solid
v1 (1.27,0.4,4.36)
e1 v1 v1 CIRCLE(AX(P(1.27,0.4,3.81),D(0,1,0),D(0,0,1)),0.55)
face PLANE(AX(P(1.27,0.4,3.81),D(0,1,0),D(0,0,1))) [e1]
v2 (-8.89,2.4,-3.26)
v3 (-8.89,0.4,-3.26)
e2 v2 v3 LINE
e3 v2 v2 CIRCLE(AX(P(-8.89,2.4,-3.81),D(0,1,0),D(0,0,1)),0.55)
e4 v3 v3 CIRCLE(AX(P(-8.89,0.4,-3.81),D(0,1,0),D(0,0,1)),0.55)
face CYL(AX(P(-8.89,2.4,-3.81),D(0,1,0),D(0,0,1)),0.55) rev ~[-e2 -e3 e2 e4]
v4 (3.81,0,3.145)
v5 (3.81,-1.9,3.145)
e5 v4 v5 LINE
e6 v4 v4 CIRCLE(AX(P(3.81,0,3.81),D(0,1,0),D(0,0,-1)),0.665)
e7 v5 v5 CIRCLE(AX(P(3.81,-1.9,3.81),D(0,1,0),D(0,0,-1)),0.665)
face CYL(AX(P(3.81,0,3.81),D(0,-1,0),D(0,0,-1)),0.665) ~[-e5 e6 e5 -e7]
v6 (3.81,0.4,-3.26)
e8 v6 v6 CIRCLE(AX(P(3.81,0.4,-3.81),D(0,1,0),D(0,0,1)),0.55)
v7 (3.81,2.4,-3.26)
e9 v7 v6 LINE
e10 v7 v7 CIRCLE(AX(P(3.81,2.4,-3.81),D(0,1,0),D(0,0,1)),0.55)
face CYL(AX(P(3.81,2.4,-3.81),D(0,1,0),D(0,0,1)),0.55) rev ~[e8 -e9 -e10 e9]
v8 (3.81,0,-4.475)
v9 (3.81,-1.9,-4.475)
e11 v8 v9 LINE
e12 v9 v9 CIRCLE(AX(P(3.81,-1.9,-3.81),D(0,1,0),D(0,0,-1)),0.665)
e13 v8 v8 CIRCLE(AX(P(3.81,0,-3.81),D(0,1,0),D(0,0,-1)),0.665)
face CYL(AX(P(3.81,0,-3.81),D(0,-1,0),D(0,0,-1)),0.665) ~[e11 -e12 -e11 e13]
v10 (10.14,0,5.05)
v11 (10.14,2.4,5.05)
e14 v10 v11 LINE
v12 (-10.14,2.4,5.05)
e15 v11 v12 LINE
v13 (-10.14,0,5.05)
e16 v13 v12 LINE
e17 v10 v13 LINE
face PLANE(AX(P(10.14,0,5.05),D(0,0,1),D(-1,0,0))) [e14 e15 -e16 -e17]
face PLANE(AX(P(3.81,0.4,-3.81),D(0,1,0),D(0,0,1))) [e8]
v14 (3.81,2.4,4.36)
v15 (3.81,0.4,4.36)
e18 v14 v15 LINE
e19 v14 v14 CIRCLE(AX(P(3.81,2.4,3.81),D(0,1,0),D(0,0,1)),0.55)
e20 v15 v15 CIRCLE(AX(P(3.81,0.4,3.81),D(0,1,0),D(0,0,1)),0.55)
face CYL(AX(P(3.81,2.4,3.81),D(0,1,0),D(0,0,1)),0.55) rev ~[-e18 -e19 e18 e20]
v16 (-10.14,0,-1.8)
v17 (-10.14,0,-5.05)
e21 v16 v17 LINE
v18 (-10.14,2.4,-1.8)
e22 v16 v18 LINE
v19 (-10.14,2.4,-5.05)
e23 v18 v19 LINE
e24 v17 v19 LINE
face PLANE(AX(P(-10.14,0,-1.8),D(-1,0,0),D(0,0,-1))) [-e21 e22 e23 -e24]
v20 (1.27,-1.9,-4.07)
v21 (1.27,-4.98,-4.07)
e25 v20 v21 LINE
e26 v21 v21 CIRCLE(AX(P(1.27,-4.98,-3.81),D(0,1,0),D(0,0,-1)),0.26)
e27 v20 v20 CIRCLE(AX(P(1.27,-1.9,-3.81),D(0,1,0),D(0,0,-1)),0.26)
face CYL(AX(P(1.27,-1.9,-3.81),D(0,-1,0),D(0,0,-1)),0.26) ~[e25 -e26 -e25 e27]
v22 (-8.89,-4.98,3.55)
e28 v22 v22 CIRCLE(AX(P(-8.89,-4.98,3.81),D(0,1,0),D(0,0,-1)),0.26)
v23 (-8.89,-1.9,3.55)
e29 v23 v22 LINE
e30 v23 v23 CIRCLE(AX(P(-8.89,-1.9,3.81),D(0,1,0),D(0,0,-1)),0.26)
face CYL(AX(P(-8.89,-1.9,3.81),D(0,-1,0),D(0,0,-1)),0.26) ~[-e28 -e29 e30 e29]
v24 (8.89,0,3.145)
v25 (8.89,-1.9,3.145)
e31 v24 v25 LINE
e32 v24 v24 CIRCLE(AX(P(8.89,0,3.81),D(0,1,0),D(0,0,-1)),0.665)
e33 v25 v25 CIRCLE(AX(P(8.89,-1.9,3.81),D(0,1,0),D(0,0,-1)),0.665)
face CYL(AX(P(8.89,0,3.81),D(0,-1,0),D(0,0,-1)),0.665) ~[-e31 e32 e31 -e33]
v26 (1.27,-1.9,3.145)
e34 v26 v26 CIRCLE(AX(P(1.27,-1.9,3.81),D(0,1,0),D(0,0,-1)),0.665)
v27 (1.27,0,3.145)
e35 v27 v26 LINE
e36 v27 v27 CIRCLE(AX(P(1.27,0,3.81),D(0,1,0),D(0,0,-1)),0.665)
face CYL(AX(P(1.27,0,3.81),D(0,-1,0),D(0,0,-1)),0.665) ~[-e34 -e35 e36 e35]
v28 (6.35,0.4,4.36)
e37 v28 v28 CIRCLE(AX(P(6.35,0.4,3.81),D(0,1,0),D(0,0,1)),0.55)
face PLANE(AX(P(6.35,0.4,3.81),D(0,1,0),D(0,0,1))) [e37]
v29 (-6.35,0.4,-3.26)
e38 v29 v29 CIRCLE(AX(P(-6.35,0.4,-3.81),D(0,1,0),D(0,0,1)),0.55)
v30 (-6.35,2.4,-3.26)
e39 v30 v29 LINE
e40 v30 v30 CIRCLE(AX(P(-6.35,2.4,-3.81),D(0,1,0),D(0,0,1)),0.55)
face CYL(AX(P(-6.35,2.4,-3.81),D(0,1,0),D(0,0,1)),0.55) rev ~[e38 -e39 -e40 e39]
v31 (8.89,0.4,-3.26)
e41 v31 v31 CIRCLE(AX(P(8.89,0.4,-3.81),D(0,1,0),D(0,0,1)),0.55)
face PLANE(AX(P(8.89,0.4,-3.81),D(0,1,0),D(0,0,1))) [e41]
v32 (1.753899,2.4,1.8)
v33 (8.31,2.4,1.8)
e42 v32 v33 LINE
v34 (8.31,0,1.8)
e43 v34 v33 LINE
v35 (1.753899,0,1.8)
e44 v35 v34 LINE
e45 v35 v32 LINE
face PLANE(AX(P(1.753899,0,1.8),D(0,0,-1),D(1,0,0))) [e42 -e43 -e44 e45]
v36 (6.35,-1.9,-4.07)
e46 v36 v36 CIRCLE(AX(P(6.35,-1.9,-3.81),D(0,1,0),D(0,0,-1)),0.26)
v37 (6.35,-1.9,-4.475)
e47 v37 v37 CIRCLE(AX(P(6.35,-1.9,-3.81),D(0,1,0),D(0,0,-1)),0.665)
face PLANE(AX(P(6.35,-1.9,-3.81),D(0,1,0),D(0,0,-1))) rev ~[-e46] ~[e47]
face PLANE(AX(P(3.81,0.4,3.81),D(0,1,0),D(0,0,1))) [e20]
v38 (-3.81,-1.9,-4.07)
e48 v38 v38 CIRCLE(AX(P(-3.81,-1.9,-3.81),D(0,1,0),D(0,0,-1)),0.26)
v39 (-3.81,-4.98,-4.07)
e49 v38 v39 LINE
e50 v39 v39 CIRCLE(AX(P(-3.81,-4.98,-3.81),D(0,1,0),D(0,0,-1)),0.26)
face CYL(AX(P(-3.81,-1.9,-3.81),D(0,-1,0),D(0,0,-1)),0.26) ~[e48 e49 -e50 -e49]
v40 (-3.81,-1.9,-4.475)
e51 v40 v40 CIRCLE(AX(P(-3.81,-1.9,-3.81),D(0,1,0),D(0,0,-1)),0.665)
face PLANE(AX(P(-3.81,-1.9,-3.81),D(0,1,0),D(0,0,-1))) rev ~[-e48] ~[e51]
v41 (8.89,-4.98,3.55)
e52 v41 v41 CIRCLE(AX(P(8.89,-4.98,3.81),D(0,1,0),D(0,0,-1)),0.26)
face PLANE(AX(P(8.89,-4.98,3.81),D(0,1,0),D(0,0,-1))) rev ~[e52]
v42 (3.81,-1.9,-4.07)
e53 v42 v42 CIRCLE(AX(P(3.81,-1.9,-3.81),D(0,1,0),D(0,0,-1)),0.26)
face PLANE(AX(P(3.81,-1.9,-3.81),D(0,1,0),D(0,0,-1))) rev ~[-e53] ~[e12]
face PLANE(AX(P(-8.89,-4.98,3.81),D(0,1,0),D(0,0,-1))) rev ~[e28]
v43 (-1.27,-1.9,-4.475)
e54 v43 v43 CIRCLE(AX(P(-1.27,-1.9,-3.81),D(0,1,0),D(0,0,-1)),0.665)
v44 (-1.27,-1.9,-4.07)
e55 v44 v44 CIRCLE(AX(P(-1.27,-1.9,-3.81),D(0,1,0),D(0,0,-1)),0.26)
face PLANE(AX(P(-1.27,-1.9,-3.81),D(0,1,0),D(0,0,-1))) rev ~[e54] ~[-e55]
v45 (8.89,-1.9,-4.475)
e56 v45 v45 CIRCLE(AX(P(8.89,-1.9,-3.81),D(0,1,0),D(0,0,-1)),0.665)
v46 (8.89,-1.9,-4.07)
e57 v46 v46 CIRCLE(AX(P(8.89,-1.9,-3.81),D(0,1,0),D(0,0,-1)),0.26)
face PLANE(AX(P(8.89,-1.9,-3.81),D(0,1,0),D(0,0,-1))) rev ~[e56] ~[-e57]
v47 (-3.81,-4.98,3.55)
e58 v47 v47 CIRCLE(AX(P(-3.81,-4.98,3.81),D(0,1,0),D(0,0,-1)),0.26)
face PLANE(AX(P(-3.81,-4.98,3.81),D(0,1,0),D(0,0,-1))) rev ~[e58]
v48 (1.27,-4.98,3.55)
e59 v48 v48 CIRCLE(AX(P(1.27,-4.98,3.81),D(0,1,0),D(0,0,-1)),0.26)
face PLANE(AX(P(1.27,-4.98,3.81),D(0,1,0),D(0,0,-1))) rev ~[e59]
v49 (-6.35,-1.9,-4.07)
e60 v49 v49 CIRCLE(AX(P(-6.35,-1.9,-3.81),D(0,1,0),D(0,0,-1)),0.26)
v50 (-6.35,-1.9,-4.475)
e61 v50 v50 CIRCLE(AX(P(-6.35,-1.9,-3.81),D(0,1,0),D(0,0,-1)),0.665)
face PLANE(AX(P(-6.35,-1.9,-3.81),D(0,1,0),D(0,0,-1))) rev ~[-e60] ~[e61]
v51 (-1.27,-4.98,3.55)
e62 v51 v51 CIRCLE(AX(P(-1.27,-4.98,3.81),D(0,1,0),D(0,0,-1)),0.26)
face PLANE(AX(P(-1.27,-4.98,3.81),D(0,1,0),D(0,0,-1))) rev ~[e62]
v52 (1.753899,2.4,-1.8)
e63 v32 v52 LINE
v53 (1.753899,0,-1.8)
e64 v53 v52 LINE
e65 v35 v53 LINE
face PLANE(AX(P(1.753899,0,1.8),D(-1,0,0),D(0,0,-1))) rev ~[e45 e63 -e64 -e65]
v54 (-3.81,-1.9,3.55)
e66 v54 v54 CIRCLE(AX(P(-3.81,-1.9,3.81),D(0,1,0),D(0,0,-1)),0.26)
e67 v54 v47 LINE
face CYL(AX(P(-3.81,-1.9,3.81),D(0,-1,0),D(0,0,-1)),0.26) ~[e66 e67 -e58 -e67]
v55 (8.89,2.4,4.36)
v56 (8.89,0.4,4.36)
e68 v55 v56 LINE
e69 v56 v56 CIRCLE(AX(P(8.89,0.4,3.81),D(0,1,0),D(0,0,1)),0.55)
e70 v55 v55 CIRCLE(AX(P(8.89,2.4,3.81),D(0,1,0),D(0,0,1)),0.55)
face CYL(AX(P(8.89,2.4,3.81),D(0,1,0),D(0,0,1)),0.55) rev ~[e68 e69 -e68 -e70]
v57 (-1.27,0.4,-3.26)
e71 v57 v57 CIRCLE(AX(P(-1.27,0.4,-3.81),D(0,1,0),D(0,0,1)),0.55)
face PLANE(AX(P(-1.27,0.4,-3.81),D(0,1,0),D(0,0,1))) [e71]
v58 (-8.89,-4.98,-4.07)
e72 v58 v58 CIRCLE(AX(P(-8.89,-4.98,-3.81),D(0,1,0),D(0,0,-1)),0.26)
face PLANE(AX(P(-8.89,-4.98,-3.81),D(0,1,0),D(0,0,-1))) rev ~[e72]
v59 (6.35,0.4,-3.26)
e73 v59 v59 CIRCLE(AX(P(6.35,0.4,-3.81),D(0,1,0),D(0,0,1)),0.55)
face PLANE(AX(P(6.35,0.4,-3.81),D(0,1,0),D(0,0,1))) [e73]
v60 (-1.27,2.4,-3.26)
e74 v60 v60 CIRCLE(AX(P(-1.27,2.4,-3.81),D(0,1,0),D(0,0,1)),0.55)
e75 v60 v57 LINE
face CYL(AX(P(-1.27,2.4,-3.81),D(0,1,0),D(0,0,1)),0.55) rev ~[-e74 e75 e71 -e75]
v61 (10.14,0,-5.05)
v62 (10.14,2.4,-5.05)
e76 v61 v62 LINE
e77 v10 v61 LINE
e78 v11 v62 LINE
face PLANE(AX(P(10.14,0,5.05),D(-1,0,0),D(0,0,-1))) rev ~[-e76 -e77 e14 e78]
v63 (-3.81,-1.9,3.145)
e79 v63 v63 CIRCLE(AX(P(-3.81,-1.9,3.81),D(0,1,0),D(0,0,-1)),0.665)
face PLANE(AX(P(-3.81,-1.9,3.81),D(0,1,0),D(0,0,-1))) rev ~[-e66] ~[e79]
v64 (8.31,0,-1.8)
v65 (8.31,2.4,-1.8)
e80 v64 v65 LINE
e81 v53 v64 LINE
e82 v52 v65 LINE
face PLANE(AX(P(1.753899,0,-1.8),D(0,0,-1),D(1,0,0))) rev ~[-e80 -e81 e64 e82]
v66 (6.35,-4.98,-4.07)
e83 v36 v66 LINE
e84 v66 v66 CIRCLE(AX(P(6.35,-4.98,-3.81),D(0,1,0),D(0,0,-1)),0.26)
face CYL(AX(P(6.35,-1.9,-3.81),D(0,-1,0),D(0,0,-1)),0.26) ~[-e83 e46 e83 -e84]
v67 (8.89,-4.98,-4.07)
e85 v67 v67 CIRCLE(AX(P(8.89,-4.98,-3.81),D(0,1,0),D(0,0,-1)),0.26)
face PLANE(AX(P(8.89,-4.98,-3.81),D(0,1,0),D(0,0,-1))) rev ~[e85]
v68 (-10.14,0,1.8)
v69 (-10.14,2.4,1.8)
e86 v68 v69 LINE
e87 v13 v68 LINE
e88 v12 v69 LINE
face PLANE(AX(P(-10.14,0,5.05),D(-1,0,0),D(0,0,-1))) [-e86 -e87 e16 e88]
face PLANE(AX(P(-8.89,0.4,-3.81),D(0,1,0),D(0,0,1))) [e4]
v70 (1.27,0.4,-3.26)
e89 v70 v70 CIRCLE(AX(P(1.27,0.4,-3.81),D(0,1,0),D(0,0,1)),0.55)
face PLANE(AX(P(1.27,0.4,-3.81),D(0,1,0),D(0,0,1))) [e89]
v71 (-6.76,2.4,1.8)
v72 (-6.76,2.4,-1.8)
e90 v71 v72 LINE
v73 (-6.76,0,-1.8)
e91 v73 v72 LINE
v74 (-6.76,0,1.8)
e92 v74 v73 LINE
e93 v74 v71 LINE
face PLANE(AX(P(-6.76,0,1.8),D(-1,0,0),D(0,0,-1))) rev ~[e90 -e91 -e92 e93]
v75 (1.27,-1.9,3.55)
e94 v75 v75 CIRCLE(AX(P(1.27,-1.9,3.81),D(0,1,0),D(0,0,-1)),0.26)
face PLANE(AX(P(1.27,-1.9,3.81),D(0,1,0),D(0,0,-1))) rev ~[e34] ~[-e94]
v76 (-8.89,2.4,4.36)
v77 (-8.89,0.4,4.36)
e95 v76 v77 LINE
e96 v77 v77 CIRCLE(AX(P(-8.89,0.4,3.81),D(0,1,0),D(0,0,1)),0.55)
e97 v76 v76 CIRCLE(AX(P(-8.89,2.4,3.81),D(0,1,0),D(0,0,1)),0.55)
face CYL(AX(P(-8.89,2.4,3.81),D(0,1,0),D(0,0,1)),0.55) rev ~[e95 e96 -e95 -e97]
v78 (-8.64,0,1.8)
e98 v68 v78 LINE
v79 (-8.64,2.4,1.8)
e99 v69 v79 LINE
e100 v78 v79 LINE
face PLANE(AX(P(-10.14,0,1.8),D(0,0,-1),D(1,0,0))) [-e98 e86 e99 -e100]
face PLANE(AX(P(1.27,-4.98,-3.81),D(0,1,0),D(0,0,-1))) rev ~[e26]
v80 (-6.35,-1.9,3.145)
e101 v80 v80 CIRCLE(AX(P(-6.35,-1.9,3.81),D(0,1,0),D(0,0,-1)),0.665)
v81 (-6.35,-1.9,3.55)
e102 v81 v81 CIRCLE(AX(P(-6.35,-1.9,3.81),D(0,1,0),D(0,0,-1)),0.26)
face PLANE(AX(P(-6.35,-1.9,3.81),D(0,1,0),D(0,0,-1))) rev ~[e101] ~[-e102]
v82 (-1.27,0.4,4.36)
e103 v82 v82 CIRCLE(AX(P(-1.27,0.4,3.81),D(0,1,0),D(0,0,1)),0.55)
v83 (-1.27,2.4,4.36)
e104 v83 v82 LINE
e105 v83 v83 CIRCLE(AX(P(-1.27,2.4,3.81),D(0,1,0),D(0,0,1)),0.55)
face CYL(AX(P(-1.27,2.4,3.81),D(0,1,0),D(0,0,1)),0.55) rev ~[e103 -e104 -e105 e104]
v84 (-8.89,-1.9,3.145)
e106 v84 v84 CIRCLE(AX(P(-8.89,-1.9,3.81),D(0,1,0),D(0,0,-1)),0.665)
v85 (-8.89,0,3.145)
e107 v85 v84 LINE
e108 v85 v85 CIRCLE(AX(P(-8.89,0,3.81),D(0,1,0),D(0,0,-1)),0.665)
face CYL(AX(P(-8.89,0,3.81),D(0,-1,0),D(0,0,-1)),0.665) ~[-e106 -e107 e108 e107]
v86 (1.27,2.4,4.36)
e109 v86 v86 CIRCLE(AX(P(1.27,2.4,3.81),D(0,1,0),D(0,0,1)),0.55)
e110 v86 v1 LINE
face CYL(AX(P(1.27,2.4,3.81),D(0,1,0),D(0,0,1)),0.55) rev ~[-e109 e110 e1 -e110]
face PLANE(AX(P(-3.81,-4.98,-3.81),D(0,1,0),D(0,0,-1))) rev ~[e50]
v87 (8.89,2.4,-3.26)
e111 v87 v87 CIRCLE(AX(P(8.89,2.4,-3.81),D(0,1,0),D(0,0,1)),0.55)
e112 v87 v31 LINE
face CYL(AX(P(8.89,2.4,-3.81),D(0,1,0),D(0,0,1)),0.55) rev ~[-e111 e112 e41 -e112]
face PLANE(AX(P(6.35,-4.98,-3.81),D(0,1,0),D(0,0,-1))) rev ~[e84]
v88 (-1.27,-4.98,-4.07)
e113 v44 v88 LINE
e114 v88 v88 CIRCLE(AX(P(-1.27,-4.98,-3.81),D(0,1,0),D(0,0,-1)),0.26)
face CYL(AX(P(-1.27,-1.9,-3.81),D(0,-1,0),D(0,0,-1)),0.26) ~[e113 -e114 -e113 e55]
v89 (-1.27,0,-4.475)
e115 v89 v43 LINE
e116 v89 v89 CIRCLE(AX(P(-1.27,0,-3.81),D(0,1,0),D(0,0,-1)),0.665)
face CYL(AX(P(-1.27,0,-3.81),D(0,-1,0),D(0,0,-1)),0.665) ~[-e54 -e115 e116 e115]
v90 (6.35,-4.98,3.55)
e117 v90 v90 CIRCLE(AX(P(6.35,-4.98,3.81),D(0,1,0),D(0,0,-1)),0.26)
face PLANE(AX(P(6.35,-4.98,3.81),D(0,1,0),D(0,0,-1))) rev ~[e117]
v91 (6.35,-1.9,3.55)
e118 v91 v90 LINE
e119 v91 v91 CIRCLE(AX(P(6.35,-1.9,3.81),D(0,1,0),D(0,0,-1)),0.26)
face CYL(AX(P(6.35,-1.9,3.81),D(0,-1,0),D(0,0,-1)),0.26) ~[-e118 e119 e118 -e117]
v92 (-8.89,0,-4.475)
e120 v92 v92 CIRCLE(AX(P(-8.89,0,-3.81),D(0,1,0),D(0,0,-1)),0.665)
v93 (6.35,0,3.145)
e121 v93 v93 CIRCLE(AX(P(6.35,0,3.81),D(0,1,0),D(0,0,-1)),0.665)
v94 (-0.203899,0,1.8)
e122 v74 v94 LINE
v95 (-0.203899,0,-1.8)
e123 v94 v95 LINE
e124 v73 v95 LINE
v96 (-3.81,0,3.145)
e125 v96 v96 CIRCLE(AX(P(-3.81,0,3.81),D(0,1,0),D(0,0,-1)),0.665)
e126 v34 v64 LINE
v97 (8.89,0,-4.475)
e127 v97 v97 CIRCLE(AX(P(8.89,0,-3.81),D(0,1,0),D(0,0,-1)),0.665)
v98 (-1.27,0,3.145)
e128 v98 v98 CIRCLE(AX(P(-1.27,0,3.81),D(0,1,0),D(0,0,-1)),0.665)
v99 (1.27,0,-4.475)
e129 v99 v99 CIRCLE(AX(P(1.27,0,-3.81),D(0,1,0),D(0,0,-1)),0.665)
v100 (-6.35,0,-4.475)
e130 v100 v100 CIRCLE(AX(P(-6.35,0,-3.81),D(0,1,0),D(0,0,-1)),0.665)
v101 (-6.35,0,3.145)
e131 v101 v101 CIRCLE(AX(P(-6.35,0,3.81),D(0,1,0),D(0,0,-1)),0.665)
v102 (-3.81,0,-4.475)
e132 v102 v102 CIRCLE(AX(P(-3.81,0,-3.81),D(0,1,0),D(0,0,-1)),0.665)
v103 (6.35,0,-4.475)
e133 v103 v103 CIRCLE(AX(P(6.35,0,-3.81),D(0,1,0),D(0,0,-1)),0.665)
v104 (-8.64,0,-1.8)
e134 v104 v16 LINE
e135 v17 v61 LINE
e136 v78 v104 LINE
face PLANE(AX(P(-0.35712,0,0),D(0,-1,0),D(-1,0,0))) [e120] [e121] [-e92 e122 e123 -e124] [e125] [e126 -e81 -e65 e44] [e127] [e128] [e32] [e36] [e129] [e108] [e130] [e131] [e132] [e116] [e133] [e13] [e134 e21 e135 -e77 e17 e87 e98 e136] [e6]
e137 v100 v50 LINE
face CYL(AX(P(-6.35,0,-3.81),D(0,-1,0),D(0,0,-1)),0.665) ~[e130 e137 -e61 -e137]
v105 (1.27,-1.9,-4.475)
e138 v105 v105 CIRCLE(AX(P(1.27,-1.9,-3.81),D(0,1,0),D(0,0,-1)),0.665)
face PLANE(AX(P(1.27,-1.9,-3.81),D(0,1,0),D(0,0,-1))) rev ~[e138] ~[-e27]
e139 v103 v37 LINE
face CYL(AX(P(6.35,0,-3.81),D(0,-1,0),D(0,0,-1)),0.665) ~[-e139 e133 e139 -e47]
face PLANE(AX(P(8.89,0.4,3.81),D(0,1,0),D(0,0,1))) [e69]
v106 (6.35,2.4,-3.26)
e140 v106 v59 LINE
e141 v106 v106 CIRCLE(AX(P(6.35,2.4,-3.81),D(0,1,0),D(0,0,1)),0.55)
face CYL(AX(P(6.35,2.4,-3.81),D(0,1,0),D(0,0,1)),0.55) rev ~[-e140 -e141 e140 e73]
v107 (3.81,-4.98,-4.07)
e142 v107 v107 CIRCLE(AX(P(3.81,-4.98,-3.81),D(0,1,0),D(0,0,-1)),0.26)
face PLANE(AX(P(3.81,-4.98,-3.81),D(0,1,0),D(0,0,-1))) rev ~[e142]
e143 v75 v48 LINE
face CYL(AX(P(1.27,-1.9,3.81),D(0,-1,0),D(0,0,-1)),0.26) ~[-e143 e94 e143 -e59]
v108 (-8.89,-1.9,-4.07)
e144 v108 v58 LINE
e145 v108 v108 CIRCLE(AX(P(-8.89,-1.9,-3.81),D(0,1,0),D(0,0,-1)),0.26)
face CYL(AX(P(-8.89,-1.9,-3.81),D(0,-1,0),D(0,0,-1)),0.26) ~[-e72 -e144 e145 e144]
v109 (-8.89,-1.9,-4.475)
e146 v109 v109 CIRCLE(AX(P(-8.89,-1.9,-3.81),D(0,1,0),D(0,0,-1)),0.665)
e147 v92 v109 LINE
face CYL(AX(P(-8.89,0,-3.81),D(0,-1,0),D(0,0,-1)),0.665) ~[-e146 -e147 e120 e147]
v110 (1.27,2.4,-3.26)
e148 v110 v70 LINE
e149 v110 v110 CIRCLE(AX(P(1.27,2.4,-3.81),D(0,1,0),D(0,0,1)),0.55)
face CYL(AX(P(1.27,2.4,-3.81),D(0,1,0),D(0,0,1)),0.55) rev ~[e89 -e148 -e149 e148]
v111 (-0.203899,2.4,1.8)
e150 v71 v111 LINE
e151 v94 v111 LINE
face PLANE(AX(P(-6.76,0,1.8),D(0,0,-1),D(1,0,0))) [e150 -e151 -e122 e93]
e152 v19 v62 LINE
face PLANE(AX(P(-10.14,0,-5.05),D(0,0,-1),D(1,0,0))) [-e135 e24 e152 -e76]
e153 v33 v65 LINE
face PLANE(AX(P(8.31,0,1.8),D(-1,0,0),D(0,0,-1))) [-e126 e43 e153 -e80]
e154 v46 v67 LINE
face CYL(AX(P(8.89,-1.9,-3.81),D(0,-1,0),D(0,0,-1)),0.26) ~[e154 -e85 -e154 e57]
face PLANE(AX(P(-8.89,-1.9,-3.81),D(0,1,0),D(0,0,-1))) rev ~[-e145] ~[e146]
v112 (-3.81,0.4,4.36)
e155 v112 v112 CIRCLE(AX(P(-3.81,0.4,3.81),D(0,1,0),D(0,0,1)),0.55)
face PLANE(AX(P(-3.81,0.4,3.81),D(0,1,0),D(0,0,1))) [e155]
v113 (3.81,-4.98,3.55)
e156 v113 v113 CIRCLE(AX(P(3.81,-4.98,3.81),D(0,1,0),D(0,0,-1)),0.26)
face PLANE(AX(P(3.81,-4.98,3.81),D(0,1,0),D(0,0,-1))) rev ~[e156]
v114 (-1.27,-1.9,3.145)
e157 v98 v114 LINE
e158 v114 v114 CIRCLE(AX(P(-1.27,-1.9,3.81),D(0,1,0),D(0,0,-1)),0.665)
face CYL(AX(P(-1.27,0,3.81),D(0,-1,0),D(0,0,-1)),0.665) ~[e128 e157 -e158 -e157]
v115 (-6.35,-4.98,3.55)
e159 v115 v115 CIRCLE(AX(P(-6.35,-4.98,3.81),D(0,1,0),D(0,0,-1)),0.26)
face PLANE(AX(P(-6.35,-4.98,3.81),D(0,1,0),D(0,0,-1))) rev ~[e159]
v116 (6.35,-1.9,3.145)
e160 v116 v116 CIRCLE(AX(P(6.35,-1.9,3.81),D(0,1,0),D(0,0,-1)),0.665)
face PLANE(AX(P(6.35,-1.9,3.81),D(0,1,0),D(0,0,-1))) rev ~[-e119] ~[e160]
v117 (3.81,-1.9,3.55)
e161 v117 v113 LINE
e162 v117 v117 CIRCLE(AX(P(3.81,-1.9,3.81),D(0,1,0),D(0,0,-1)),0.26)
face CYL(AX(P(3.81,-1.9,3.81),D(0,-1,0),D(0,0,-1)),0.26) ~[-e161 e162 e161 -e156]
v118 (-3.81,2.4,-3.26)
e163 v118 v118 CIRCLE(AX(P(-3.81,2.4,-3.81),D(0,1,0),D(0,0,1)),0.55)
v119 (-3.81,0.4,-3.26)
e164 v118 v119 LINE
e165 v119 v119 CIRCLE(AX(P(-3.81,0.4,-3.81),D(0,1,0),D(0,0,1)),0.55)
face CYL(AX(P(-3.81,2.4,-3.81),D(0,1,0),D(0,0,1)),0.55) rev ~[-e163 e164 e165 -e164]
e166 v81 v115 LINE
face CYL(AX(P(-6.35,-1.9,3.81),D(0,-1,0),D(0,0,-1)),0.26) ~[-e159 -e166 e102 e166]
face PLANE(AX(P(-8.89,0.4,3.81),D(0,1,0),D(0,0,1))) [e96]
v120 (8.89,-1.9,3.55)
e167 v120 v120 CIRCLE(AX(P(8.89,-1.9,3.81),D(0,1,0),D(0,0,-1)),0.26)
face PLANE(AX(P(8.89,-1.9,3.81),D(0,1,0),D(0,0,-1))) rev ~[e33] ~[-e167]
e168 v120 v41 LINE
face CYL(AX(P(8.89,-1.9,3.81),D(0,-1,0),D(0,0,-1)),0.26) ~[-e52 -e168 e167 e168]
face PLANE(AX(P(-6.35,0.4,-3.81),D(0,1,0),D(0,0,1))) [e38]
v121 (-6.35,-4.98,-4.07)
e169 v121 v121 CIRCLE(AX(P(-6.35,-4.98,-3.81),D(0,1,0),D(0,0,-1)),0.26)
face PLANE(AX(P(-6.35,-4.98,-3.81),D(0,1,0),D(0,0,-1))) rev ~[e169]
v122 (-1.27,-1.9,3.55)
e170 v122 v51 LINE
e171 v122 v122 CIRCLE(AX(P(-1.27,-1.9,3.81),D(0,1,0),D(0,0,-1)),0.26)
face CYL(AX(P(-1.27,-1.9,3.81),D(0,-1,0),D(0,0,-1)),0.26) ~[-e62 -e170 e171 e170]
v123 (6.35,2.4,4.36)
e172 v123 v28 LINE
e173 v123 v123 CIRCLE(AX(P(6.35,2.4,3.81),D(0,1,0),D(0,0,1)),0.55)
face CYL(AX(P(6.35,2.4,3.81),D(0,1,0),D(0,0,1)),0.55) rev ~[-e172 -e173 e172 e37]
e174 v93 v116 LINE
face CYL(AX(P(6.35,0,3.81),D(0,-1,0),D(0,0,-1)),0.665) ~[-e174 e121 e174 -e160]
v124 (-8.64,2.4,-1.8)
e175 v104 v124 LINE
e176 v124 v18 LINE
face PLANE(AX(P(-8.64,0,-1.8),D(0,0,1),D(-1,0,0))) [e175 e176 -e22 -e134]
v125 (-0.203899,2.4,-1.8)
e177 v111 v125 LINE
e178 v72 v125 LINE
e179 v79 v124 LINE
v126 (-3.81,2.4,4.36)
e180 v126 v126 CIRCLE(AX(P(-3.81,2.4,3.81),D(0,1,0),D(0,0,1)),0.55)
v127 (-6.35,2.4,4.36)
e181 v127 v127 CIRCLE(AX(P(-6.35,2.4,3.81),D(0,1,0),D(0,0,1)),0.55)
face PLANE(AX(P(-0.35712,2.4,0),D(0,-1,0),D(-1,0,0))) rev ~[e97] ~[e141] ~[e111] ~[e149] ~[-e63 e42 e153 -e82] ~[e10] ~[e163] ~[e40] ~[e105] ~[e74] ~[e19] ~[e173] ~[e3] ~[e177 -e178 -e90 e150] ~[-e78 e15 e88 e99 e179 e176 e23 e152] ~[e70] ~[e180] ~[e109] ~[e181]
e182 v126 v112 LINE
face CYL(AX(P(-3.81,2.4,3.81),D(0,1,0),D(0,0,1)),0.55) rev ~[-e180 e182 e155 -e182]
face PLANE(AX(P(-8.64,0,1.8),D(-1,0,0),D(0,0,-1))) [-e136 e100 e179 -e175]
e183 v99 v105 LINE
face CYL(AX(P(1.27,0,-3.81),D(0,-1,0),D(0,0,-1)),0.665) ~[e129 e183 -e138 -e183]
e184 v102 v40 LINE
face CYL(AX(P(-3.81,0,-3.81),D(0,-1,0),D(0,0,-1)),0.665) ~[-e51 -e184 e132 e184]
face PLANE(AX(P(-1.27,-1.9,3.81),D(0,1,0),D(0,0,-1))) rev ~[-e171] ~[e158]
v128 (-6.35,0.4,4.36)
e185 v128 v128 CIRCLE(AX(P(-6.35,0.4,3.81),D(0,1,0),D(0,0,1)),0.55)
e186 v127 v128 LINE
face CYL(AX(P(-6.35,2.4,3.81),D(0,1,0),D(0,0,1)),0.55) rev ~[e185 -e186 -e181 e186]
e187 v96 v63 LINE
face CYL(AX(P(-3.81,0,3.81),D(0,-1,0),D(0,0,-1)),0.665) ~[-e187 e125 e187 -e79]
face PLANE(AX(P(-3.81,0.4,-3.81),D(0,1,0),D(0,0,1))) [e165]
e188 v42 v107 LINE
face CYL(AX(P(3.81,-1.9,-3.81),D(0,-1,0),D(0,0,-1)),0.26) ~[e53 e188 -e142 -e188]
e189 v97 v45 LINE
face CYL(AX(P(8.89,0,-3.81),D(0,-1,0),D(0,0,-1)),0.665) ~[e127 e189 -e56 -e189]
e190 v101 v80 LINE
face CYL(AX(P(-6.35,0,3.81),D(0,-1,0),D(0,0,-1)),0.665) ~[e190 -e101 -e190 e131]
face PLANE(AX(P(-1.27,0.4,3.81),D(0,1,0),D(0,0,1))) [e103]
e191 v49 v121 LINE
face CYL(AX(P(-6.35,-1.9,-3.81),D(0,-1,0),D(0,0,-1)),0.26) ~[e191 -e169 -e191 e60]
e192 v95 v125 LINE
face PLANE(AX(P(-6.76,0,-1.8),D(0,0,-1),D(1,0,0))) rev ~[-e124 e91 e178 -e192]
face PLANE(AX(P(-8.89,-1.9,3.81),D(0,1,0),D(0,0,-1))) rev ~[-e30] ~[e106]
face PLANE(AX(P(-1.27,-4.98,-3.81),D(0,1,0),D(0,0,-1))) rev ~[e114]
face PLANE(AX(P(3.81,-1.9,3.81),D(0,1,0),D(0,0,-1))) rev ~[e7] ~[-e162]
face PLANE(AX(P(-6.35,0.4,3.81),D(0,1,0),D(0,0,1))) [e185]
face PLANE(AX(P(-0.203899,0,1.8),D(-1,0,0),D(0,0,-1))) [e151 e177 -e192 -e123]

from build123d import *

# Parameters (mm, degrees)
SKETCH1_W            = 6.556101186
SKETCH1_H            = 3.6
BOSS_EXTRUDE1_DEPTH  = 2.4
SKETCH2_R            = 0.55
CUT_EXTRUDE1_DEPTH   = 2
LPATTERN1_COUNT      = 8
LPATTERN1_PITCH      = 2.54
LPATTERN1_COUNT_DIR2 = 2
LPATTERN1_PITCH_DIR2 = 7.62


with BuildPart() as part:
    # Sketch1 → Boss-Extrude1 (new body)
    with BuildSketch(Plane(origin=(0, 0, 0), x_dir=(1, 0, 0), z_dir=(0, 1, 0))):
        Polygon((10.14, 2.883247803), (10.14, -2.179313718), (10.14, -5.05), (-10.14, -5.05), (-10.14, -1.8), (-8.64, -1.8), (-8.64, 1.8), (-10.14, 1.8), (-10.14, 5.05), (10.14, 5.05), align=None)
        with Locations((5.031949407, 0)):
            Rectangle(SKETCH1_W, SKETCH1_H, mode=Mode.SUBTRACT)
        with Locations((-3.481949407, 0)):
            Rectangle(SKETCH1_W, SKETCH1_H, mode=Mode.SUBTRACT)
    extrude(amount=BOSS_EXTRUDE1_DEPTH)

    # Sketch2 → Cut-Extrude1 (cut)
    with BuildSketch(Plane(origin=(0, 2.4, 0), x_dir=(1, 0, 0), z_dir=(0, 1, 0))):
        with Locations(Location((-8.89, -3.81, 0), (0, 0, 270))):
            Circle(SKETCH2_R)
    cut_extrude1 = extrude(amount=-CUT_EXTRUDE1_DEPTH, mode=Mode.SUBTRACT)

    # Sketch3 → Revolve1 (revolve)
    with BuildSketch(Plane.XY.offset(3.81), mode=Mode.PRIVATE) as revolve1_sk:
        Polygon((-9.555, 0), (-9.555, -1.9), (-9.15, -1.9), (-9.15, -4.98), (-8.89, -4.98), (-8.89, 0), align=None)
    revolve1 = revolve(revolve1_sk.sketch.rotate(Axis((-8.89, 0, 3.81), (0, 1, 0)), 270), axis=Axis((-8.89, 0, 3.81), (0, 1, 0)))

    # LPattern1: Cut-Extrude1, Revolve1 8 × 2
    with Locations(*[(i * LPATTERN1_PITCH, 0, -j * LPATTERN1_PITCH_DIR2) for i in range(LPATTERN1_COUNT) for j in range(LPATTERN1_COUNT_DIR2) if (i, j) != (0, 0)]):
        add(cut_extrude1, mode=Mode.SUBTRACT)
        add(revolve1)


solid = part.part
